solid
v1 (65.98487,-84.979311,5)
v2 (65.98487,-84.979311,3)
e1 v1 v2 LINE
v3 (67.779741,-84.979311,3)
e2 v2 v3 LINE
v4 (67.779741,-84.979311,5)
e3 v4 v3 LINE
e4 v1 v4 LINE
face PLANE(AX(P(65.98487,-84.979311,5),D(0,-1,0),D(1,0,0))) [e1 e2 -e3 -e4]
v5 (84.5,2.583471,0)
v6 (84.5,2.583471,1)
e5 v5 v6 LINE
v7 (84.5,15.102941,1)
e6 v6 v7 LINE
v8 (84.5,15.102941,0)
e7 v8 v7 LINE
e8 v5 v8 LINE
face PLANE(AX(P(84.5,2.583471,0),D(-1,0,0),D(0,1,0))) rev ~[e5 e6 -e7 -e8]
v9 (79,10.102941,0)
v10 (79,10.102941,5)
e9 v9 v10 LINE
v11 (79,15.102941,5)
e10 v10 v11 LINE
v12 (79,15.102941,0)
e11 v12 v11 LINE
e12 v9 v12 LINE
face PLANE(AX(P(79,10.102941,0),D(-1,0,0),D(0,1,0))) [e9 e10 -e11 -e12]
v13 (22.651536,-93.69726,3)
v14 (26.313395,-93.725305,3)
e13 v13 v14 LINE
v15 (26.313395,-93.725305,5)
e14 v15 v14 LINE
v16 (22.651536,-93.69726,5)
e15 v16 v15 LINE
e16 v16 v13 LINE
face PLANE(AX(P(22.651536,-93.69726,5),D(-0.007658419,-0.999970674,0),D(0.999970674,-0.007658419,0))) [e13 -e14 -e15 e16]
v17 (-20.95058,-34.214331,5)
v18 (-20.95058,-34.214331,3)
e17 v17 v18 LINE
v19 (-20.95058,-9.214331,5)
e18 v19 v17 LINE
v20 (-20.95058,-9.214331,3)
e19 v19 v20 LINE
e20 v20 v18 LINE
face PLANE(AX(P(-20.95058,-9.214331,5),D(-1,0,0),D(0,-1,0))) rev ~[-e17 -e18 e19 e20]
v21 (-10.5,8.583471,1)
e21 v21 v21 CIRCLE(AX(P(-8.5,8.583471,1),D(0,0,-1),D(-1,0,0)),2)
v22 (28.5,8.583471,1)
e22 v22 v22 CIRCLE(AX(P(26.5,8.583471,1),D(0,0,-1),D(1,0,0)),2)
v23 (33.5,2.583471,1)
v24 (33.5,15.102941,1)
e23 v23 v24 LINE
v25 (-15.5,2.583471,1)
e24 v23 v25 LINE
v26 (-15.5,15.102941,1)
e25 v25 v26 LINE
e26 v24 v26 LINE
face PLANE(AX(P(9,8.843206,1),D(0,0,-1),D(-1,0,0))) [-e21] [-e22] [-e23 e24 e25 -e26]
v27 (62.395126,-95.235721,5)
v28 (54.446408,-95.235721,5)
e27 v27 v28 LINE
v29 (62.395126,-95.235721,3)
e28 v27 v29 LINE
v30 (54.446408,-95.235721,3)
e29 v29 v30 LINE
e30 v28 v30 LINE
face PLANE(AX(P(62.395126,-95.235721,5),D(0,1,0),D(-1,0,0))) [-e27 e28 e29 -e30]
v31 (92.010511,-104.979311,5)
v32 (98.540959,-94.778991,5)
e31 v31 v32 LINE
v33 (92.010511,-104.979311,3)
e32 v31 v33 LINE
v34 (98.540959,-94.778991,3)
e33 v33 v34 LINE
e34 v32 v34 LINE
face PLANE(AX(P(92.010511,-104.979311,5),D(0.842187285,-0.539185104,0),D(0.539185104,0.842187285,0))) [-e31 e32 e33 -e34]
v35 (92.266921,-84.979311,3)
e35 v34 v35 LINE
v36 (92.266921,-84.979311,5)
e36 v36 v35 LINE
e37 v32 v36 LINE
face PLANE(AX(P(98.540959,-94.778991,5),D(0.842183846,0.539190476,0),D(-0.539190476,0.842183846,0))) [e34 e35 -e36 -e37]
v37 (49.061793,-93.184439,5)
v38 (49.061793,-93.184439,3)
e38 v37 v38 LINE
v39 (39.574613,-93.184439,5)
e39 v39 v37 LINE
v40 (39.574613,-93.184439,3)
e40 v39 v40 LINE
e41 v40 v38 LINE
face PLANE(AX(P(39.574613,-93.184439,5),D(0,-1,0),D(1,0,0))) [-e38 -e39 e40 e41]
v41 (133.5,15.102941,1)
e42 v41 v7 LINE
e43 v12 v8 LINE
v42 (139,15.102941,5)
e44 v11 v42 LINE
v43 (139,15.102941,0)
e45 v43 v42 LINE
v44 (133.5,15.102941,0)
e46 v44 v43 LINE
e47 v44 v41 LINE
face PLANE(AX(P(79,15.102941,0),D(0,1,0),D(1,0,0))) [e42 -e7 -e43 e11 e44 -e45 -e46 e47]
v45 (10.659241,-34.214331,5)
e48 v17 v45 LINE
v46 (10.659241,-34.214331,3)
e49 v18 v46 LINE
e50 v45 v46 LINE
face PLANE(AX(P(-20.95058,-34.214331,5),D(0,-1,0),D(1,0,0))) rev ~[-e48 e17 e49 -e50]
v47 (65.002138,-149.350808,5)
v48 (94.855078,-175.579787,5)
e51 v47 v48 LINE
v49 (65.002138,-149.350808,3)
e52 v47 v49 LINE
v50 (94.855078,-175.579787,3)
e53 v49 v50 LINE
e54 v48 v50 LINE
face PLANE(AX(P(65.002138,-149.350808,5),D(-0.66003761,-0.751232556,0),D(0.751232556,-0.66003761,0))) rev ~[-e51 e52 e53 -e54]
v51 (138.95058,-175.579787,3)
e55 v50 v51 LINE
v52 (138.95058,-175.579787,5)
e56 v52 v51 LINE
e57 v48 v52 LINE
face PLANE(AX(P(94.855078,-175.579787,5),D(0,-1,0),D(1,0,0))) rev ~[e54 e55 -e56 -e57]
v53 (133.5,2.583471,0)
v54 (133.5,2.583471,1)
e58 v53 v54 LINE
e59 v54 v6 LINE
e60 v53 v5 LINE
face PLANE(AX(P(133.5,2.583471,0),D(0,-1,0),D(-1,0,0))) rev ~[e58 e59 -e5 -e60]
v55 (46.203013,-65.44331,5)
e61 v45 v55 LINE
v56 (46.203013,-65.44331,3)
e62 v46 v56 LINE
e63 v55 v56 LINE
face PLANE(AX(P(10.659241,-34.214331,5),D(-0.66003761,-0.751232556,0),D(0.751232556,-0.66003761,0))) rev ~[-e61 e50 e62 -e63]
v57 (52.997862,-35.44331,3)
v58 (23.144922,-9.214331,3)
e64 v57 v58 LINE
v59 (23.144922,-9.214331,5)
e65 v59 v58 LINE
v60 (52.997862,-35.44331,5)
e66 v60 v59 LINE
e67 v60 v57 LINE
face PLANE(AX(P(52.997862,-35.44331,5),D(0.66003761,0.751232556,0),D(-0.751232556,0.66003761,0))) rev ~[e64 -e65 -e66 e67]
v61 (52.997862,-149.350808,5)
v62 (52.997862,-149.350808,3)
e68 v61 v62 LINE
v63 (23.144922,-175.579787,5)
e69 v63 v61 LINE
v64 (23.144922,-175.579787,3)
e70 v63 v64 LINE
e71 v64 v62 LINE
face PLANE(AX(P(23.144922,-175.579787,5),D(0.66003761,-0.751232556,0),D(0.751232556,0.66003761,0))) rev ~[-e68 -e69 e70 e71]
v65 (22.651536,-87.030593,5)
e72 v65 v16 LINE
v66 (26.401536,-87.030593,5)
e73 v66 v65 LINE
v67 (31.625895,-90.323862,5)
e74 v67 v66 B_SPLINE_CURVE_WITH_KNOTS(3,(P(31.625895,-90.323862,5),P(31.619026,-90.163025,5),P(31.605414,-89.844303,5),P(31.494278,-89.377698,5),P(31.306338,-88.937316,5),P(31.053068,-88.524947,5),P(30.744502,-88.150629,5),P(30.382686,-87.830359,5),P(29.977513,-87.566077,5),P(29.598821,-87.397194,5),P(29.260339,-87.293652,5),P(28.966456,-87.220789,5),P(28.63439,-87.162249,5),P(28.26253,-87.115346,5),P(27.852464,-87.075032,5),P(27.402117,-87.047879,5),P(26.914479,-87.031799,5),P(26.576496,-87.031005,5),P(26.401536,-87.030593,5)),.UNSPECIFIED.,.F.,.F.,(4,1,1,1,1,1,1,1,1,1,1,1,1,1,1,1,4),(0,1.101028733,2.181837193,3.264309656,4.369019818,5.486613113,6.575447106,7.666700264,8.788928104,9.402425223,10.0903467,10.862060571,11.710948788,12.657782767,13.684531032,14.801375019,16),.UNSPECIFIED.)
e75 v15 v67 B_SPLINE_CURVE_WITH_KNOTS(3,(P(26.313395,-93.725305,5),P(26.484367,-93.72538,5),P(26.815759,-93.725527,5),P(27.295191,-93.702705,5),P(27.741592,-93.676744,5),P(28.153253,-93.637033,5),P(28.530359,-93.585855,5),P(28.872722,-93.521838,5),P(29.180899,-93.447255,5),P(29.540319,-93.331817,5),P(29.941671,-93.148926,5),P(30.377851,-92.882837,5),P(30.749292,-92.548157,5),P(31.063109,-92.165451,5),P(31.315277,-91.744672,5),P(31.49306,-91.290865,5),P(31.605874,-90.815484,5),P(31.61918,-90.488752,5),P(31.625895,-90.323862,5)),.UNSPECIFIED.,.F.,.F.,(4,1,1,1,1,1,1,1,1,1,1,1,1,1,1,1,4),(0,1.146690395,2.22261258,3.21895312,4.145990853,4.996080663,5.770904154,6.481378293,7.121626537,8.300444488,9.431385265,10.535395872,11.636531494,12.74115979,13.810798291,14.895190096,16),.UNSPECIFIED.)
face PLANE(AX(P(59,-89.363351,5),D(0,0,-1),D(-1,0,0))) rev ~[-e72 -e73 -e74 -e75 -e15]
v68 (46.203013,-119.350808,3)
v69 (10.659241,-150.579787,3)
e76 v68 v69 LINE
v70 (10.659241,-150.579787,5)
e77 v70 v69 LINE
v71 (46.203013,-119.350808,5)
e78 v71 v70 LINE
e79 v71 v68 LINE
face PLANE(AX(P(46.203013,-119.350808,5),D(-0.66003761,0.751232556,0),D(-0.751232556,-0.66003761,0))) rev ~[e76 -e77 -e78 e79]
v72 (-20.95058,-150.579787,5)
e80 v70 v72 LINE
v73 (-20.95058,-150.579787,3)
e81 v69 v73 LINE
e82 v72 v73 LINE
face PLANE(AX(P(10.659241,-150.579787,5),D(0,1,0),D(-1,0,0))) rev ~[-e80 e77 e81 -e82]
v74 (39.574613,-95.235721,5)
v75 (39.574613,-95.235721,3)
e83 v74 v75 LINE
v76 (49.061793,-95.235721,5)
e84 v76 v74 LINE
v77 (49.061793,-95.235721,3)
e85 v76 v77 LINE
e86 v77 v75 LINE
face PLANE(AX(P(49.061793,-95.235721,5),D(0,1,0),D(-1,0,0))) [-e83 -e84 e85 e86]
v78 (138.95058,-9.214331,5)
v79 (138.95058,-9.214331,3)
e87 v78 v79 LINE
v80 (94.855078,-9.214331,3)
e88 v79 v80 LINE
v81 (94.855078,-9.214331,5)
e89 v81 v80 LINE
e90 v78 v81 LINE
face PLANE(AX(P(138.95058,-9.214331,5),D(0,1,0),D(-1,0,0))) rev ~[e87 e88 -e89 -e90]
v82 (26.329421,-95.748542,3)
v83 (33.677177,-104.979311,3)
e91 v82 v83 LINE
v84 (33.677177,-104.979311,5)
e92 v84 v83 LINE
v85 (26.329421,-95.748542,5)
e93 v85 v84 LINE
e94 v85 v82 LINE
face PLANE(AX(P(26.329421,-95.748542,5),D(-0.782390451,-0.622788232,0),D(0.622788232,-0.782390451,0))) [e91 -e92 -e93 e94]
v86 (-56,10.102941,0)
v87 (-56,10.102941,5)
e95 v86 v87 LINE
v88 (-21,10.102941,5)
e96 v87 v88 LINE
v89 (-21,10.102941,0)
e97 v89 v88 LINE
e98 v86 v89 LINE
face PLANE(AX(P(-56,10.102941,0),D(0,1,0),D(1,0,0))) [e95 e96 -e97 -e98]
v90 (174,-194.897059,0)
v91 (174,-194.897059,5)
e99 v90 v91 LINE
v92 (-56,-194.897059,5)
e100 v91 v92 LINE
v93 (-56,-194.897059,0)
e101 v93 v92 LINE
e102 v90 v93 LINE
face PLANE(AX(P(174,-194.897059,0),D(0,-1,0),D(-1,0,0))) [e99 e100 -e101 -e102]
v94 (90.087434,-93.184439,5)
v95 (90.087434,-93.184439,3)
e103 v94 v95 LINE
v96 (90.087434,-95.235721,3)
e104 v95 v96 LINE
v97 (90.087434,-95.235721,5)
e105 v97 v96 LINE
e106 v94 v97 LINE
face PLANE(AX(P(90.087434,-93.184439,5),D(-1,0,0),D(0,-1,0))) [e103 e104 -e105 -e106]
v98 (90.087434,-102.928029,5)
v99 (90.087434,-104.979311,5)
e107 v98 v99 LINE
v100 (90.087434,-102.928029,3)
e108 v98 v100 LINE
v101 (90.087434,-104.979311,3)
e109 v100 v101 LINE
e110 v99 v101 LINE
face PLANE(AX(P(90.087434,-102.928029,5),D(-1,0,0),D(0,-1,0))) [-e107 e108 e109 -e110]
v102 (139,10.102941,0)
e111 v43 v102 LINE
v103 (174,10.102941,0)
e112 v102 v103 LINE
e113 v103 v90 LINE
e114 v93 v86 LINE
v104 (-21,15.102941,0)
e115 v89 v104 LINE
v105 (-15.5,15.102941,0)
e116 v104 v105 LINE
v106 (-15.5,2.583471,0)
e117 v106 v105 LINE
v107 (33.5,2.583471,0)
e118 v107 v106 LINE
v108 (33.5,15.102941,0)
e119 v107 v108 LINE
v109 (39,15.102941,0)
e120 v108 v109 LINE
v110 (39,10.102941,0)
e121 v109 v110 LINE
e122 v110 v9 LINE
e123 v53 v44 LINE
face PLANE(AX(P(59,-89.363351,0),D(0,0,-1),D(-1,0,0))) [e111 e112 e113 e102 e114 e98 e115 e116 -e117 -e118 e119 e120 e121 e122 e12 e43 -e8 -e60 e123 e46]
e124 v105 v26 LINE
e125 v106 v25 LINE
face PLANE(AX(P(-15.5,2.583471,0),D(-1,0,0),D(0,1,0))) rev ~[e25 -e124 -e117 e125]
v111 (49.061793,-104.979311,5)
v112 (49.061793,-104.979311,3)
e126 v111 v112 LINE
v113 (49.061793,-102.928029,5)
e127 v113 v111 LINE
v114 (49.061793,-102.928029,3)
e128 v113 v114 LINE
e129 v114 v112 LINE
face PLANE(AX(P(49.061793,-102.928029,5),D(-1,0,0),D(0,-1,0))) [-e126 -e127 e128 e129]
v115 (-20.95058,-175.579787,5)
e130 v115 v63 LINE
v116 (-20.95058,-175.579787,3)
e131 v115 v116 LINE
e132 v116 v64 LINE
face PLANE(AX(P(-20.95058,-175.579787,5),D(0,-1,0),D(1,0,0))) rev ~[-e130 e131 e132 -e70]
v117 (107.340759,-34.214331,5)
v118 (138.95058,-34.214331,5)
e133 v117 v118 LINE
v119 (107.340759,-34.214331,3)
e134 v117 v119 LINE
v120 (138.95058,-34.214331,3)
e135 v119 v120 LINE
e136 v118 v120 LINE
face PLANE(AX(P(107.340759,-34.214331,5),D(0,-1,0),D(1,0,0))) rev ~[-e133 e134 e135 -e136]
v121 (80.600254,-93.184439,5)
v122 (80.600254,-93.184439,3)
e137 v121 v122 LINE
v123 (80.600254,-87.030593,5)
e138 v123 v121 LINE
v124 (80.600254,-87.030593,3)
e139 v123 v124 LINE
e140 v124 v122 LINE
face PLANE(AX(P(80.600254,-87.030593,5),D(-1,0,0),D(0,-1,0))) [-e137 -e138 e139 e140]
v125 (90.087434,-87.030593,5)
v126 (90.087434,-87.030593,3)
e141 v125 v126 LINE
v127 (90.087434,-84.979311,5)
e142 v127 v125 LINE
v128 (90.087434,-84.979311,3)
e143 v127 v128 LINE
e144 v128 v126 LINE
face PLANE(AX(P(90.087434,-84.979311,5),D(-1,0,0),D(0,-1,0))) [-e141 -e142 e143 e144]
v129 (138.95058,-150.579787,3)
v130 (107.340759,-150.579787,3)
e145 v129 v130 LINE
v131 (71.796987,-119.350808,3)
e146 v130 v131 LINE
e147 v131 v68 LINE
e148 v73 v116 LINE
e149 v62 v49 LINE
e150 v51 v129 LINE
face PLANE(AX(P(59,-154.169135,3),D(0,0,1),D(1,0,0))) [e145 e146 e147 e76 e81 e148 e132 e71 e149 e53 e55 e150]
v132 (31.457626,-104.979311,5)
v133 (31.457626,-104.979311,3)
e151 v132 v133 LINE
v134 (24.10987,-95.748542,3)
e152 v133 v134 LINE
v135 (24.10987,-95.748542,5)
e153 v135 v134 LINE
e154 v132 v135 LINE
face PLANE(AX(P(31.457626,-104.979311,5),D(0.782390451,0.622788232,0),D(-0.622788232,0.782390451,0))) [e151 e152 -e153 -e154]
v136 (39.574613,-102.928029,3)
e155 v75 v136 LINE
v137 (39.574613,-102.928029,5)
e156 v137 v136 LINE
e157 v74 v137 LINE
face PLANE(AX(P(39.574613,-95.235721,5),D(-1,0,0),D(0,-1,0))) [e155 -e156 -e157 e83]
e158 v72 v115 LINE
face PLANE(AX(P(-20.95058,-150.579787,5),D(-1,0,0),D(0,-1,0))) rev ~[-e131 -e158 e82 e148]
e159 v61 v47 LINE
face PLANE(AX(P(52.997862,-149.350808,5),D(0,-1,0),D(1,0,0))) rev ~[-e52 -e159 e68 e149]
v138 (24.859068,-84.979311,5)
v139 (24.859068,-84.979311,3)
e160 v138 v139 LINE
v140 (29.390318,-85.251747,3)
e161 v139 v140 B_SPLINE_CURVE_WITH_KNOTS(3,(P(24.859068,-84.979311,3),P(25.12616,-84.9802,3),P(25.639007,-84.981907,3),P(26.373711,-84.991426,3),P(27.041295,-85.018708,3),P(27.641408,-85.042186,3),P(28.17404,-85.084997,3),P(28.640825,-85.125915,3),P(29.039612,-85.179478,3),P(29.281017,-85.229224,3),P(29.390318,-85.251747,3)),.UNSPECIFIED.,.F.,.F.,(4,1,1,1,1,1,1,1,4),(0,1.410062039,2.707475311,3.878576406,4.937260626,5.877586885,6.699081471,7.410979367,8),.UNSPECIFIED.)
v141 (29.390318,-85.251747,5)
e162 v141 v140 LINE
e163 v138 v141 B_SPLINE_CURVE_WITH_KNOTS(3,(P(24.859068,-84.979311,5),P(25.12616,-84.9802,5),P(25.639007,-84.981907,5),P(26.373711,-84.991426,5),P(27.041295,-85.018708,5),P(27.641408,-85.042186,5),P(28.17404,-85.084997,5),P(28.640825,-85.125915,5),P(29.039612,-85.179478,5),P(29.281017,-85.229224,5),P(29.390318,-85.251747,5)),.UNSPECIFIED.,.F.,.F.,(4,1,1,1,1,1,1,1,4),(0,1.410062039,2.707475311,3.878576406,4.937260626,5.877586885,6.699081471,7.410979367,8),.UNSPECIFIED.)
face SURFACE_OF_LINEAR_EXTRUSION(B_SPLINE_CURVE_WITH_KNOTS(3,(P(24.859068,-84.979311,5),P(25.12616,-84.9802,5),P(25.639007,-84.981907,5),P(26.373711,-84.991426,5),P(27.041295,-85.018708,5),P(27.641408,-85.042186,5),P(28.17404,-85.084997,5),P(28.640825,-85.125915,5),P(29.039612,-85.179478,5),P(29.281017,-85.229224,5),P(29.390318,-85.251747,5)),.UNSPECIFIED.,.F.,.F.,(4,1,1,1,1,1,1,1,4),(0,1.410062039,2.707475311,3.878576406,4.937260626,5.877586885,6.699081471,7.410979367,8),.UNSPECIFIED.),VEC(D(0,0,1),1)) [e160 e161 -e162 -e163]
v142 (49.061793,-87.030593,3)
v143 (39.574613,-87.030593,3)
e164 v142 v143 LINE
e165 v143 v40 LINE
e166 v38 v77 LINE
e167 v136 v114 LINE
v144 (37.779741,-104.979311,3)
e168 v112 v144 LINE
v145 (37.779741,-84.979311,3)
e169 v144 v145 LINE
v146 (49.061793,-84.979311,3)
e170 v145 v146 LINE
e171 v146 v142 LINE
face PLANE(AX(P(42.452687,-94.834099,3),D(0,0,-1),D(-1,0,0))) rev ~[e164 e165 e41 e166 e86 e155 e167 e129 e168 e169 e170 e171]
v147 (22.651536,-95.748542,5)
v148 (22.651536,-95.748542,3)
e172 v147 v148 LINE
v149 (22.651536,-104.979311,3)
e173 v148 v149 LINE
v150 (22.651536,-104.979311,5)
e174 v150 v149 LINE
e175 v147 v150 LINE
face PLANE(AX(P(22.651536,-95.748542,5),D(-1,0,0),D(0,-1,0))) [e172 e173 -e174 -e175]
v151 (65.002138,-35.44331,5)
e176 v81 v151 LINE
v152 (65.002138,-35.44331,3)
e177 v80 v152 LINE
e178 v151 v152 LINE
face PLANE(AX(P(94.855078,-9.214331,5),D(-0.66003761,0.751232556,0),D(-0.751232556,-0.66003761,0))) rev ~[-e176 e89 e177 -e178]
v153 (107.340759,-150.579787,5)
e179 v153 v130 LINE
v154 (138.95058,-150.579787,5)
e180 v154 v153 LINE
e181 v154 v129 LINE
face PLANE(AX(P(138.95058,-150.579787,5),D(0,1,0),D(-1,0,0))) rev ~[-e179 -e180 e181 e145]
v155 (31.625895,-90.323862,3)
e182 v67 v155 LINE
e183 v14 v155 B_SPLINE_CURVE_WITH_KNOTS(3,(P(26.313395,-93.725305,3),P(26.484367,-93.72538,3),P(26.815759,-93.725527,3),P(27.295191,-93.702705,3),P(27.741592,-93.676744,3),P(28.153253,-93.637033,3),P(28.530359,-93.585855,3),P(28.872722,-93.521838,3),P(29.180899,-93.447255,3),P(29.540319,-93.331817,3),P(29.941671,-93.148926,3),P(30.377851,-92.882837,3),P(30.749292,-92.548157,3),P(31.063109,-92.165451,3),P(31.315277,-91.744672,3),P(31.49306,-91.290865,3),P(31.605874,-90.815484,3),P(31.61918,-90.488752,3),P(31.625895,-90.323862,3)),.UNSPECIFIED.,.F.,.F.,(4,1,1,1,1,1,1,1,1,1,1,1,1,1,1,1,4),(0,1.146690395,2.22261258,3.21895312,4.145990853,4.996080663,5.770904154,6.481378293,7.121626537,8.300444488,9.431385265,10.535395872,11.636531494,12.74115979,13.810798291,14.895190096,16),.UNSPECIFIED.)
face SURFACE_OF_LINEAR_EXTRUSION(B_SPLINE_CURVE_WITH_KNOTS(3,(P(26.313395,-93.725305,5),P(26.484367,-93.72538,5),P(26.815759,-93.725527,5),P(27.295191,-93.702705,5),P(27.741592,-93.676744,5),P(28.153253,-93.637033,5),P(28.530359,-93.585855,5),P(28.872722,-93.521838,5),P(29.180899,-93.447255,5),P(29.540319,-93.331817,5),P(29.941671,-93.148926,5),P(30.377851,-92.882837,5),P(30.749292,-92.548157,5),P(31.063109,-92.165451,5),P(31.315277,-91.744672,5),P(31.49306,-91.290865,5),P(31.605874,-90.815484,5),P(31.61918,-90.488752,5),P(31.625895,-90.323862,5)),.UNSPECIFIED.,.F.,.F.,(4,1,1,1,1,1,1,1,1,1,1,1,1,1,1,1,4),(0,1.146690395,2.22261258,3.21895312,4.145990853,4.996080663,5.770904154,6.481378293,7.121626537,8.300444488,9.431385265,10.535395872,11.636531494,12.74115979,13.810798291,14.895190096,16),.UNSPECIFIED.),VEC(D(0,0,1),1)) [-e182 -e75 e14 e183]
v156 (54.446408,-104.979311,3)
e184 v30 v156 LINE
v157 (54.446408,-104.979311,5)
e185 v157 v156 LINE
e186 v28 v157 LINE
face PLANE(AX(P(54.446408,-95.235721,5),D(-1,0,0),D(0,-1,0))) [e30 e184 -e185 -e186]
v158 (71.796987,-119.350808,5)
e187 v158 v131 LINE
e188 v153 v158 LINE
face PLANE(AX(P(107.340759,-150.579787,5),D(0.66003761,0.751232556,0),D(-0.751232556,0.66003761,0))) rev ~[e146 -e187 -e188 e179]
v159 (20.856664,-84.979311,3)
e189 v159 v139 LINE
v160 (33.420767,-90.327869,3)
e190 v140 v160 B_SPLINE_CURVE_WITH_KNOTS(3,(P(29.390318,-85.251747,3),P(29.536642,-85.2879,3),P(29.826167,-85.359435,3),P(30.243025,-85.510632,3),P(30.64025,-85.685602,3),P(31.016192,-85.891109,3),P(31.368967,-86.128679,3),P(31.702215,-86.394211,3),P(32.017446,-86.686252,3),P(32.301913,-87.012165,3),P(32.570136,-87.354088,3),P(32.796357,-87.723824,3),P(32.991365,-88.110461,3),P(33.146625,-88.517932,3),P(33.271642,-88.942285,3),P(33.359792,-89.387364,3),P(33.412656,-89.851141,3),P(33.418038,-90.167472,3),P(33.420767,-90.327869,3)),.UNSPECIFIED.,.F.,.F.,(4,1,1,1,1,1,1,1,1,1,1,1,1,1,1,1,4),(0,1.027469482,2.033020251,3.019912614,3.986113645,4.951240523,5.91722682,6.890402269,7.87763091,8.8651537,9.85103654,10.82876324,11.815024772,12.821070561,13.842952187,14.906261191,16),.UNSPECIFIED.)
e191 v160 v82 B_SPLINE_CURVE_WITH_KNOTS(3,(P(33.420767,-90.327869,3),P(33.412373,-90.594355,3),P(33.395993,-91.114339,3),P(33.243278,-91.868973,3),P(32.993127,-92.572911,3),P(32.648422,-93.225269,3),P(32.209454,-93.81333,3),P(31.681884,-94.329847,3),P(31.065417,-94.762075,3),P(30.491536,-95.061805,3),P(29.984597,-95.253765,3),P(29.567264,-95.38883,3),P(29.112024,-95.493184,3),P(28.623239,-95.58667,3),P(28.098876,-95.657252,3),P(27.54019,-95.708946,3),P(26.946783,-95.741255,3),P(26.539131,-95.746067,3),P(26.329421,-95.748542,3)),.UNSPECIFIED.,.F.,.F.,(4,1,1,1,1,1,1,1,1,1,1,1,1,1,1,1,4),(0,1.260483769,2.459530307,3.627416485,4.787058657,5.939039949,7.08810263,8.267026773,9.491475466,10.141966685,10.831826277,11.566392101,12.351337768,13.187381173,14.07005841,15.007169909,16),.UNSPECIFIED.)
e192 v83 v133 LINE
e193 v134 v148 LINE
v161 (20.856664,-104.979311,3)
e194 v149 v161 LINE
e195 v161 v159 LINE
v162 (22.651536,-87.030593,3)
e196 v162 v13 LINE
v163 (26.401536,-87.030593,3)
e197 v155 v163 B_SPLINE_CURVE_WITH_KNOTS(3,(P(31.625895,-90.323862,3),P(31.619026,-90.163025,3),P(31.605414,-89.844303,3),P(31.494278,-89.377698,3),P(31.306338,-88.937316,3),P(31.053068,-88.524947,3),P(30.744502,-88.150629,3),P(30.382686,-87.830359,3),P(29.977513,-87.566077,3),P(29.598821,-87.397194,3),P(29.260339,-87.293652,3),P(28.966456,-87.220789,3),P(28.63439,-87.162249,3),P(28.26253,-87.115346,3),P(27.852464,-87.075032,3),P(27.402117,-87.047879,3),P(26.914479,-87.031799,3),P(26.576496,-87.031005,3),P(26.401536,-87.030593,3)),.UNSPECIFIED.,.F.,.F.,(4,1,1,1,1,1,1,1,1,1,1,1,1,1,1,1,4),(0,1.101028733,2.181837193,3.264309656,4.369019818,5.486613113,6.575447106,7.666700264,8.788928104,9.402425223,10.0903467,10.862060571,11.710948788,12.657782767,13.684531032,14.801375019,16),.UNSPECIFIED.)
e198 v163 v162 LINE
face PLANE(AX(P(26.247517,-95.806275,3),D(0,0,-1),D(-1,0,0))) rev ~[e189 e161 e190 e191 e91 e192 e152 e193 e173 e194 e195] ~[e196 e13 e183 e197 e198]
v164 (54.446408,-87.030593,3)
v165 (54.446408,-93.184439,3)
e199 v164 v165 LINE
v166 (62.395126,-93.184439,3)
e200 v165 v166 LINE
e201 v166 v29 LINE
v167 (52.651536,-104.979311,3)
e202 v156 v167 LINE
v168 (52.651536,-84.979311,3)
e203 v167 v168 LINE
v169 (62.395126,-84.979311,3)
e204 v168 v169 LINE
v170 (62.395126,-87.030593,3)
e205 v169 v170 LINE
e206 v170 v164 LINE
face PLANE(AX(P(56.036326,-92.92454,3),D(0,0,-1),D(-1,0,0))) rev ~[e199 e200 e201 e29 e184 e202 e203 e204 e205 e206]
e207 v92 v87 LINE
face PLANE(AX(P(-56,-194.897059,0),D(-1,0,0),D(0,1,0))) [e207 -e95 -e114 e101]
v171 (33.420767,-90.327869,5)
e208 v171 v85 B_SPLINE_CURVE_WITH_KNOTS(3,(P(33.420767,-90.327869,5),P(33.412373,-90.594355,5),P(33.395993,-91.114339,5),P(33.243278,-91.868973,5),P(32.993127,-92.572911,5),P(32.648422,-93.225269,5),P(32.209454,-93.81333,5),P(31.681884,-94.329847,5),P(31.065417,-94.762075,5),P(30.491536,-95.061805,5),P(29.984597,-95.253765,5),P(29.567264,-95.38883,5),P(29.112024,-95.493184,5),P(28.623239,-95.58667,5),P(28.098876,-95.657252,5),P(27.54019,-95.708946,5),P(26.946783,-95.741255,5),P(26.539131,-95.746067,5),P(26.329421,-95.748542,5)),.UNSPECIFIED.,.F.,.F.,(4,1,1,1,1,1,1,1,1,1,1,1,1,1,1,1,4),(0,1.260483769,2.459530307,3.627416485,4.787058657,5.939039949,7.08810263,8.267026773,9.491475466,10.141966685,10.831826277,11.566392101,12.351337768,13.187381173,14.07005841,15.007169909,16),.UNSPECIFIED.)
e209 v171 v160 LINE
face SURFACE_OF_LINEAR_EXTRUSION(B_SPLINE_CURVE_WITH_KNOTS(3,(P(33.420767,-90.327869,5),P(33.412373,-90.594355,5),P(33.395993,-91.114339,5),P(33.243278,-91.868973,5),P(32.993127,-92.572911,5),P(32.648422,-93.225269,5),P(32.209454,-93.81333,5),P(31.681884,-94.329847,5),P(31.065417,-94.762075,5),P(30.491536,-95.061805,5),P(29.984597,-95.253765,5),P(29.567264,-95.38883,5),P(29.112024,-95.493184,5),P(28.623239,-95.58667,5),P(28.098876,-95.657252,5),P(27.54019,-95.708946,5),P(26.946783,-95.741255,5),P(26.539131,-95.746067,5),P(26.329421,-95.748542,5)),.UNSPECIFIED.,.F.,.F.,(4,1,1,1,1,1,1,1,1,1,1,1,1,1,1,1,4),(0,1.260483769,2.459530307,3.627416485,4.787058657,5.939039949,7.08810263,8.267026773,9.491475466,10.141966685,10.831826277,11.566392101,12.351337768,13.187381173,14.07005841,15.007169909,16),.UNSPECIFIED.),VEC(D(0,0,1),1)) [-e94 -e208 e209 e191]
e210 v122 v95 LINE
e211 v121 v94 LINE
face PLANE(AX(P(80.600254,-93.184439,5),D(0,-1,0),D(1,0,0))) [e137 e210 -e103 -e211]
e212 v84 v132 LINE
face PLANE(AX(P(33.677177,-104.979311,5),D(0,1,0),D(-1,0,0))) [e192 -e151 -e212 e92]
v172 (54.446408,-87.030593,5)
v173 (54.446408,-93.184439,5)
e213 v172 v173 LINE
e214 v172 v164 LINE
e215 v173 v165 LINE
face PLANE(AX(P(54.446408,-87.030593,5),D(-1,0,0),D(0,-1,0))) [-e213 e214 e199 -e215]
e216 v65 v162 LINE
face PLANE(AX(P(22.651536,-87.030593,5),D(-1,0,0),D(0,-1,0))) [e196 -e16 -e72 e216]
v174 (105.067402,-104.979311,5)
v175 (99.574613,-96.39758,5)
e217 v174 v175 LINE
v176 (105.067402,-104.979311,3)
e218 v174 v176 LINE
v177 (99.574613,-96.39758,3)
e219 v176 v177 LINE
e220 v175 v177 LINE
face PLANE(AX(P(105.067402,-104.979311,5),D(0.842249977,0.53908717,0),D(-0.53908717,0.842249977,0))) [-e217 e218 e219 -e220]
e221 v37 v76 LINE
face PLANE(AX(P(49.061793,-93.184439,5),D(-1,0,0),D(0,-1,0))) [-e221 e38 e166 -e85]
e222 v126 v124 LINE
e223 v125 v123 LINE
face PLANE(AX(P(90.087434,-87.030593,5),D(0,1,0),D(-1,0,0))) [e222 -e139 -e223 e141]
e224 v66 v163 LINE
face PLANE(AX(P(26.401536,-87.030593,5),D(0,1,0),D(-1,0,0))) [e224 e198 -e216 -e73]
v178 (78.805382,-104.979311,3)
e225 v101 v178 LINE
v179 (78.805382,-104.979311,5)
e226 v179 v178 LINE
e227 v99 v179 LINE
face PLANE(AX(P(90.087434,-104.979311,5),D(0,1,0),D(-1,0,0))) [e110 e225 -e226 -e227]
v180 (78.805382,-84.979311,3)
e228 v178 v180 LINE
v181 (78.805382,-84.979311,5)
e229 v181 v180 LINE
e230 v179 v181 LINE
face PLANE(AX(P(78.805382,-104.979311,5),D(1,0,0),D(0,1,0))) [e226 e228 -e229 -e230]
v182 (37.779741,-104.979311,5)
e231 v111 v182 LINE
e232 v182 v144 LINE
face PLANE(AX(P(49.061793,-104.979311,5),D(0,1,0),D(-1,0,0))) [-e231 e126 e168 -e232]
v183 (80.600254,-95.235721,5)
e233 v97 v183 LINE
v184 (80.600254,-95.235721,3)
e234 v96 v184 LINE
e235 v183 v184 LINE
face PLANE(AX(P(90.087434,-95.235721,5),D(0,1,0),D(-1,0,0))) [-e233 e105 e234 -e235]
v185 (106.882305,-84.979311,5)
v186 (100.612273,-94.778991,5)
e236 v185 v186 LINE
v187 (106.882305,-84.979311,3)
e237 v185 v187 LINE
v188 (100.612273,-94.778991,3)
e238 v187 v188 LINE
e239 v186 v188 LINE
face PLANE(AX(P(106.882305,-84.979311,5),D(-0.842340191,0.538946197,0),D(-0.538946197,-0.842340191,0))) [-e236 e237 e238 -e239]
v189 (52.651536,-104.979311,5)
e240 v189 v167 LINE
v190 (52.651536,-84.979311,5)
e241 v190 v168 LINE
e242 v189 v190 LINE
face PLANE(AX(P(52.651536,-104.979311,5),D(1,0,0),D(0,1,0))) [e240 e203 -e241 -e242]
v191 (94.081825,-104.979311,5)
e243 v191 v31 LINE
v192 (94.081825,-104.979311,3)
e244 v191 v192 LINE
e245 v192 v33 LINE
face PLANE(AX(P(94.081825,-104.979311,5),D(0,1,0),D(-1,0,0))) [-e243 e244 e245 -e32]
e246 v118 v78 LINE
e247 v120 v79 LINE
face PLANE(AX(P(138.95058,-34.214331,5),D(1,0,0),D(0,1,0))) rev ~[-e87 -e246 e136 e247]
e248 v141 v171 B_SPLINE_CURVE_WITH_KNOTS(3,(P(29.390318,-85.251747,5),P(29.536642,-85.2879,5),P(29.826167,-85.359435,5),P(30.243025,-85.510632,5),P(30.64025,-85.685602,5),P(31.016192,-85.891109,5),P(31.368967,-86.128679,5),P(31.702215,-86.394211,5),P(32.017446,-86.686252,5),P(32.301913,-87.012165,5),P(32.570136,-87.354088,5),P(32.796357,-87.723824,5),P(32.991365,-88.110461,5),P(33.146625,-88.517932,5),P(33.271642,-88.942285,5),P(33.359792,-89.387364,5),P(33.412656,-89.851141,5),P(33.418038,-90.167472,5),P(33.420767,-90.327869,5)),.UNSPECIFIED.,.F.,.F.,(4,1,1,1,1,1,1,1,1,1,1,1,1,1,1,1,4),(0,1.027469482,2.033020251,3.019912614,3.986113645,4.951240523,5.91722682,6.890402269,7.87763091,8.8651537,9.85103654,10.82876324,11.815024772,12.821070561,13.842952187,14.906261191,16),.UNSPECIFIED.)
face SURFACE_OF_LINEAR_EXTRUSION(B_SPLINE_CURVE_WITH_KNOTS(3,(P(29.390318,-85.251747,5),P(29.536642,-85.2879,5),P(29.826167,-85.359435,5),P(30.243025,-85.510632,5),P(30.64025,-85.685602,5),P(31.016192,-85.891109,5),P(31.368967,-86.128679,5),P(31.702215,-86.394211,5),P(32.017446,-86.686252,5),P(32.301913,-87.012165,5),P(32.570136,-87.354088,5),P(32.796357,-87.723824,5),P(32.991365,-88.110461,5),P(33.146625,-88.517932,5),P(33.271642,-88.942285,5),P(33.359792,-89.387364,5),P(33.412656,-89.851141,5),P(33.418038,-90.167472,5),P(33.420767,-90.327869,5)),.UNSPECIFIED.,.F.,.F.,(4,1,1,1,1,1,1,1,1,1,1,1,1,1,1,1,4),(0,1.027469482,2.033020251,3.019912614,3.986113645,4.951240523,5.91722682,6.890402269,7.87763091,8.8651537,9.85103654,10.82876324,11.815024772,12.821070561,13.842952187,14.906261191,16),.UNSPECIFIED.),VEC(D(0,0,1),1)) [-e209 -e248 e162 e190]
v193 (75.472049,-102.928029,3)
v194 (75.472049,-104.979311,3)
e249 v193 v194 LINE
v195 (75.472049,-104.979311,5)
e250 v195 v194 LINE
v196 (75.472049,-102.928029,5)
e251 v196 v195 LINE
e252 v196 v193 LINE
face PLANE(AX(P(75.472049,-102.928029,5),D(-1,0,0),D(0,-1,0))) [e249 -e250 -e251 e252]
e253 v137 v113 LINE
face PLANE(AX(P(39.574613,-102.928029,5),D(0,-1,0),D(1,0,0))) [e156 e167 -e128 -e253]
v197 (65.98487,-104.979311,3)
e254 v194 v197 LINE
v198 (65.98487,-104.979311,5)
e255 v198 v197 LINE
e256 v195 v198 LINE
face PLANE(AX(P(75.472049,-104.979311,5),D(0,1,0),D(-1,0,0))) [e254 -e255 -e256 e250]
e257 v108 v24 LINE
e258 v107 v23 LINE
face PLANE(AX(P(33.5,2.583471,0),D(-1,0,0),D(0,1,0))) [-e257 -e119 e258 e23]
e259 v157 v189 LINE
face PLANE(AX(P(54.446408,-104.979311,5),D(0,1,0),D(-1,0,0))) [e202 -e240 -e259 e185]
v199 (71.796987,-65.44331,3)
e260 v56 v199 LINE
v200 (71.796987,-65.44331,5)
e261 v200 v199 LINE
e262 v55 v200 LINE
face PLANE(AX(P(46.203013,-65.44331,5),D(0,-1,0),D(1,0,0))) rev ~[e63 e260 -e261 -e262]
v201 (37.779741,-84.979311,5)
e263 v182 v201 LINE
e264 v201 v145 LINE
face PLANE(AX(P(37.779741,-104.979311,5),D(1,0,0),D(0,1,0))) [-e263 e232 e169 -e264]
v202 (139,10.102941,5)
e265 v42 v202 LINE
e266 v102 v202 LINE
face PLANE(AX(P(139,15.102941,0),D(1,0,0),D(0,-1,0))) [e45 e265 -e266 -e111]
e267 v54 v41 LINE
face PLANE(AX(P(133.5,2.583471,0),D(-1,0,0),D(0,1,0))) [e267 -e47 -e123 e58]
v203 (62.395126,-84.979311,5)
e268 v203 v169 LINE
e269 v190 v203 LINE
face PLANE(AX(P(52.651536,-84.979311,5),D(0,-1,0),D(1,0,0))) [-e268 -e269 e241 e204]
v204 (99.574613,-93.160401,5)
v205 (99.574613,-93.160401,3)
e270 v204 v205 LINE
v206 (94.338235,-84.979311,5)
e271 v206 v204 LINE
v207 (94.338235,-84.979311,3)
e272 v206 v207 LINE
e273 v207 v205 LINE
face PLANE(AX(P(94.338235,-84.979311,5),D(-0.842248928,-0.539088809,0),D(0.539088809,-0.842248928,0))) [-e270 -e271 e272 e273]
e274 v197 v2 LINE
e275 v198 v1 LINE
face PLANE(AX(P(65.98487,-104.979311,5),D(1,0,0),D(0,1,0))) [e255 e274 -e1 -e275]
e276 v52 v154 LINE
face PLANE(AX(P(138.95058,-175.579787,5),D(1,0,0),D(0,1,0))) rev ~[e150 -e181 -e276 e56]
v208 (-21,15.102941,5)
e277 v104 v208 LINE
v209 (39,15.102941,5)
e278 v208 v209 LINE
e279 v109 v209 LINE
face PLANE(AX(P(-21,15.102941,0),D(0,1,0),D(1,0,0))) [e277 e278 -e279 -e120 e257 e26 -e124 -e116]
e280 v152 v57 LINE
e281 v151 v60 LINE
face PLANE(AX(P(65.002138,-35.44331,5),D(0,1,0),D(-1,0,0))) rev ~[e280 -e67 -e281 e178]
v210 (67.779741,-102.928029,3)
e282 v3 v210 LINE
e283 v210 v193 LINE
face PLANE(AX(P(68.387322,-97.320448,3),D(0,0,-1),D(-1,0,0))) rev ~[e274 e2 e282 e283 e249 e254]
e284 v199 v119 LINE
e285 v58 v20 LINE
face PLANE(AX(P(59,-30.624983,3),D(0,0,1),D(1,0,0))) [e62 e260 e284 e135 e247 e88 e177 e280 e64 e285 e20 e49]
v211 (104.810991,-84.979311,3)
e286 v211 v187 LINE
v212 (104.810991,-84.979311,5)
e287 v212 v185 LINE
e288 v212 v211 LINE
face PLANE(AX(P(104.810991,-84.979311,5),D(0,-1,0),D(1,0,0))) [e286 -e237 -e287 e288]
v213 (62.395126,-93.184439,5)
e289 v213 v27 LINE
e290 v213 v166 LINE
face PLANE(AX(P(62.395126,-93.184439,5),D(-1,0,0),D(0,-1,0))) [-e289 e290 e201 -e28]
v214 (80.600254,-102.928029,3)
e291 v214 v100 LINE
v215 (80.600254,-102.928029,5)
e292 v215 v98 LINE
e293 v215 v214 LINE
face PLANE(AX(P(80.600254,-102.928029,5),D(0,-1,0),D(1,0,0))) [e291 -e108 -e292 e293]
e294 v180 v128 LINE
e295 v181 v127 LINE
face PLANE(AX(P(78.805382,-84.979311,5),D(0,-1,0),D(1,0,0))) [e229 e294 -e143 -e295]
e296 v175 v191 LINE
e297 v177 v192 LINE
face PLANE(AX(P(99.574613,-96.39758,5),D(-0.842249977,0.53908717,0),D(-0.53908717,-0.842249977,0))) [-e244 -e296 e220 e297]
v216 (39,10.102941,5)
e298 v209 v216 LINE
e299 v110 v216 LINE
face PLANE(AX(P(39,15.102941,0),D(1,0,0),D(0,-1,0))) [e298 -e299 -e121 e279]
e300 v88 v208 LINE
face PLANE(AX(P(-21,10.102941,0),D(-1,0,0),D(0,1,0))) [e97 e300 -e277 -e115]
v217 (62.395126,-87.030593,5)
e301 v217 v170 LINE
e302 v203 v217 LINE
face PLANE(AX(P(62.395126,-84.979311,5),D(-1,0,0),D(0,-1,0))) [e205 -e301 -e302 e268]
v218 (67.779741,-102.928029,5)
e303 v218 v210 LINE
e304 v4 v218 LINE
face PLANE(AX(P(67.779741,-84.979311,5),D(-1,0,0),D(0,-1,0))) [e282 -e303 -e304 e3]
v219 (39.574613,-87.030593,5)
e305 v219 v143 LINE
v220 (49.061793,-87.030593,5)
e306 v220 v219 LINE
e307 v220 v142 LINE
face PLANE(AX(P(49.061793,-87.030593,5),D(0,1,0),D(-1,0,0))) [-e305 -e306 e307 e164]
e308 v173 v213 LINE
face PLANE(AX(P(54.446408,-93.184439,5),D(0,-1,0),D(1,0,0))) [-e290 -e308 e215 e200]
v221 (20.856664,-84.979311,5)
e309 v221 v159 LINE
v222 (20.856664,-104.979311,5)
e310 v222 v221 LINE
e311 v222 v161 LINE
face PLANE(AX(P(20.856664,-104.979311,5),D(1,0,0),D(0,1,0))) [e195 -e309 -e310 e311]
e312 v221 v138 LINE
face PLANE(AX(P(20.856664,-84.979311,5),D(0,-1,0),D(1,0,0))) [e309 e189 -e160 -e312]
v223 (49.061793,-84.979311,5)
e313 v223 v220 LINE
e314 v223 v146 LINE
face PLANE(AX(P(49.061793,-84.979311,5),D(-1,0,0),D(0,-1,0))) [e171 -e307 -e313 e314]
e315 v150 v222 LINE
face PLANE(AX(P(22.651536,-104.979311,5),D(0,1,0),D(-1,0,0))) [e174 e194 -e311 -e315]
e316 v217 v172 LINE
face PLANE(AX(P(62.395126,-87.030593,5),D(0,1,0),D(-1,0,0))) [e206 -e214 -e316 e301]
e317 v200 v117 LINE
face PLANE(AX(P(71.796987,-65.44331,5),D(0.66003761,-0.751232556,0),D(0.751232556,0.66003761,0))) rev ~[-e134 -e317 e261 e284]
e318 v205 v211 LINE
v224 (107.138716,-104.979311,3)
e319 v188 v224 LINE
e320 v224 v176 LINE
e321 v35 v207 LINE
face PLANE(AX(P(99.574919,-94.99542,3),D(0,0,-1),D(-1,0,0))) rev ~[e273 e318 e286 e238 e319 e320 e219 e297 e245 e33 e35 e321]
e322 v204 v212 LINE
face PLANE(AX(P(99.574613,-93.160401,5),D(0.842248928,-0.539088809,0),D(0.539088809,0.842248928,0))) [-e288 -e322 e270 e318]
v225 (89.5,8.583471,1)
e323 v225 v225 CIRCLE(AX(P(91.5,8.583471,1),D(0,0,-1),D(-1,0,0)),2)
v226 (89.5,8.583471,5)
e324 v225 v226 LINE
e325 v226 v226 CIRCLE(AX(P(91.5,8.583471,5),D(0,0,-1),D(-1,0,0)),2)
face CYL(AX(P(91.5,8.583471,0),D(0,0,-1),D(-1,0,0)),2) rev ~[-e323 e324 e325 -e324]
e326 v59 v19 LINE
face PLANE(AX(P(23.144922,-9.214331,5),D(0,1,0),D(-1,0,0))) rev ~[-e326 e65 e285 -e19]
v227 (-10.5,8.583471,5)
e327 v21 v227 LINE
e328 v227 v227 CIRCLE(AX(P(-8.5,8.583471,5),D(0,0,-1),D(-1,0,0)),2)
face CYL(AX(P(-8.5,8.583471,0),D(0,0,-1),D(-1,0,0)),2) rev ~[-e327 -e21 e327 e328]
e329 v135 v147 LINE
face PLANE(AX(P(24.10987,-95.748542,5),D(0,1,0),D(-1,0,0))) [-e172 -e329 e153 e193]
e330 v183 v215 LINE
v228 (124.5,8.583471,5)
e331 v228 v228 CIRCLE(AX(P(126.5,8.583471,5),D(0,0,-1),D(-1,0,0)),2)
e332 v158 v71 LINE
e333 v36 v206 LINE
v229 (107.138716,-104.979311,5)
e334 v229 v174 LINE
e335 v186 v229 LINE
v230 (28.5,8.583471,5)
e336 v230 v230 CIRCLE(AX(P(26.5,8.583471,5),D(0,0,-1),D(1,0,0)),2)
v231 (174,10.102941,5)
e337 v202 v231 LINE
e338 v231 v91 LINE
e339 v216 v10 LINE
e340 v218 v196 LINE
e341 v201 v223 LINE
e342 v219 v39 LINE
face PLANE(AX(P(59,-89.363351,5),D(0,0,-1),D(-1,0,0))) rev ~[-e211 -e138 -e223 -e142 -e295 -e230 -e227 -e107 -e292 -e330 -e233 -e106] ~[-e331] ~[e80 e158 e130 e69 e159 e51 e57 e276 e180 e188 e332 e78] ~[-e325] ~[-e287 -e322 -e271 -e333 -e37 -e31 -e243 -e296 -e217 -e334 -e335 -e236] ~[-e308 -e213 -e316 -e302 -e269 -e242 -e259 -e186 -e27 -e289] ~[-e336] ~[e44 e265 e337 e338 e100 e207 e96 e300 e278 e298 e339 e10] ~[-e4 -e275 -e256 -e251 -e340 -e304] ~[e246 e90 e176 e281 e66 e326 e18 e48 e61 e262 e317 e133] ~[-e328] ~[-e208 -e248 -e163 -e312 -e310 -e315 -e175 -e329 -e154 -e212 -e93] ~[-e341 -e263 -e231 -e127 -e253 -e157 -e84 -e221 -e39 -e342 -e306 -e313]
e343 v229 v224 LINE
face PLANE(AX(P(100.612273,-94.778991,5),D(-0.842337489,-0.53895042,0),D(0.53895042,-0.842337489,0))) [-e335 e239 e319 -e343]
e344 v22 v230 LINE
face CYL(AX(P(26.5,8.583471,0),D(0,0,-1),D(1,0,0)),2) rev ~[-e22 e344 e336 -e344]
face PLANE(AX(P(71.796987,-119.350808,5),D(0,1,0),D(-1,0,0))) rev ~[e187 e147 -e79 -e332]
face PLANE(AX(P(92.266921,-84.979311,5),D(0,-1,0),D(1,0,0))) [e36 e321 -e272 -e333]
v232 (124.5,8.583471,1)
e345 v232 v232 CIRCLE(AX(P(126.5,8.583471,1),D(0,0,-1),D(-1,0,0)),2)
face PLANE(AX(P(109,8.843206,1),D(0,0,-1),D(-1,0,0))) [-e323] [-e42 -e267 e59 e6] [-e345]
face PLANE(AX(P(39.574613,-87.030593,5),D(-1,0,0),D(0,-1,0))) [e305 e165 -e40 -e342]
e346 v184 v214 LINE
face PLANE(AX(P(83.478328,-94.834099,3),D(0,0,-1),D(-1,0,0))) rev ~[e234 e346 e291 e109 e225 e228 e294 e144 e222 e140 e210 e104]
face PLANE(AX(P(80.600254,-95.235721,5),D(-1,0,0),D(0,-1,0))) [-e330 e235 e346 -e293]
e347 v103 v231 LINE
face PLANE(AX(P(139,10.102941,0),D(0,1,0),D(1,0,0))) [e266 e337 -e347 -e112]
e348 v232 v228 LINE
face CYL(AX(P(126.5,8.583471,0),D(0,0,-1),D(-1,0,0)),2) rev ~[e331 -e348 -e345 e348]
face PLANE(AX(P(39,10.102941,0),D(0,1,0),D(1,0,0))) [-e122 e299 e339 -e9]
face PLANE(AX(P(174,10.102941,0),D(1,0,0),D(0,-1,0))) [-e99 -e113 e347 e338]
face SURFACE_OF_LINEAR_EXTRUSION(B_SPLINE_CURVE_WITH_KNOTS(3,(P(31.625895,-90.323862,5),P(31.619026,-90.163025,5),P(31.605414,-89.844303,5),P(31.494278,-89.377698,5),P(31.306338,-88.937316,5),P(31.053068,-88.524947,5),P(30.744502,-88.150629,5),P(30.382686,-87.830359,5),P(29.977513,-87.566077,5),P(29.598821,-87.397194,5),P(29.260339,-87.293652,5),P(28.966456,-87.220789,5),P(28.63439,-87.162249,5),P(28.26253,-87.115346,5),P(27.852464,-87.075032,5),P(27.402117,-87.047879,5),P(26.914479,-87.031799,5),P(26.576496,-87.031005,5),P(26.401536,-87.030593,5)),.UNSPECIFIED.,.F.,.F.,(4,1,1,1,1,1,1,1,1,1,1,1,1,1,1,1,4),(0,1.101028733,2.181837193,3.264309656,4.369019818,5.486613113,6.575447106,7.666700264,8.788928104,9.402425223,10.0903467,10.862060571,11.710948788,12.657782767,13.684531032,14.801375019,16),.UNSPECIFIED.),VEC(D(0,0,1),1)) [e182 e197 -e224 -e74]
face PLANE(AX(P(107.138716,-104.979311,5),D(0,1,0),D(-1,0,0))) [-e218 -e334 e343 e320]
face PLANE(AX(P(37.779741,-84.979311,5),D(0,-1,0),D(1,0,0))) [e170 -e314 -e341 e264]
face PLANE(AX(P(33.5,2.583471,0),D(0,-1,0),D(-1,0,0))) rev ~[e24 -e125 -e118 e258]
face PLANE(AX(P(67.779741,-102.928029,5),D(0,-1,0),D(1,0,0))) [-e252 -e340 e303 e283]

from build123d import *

# Parameters (mm, degrees)
BOSS_EXTRU_1_DEPTH      = 5
ENL_V_MAT_EXTRU_2_DEPTH = 2
ENL_V_MAT_EXTRU_3_DEPTH = 2
ESQUISSE4_W             = 49
ESQUISSE4_H             = 12.519470299
ENL_V_MAT_EXTRU_5_DEPTH = 1
ESQUISSE5_R             = 2
ENL_V_MAT_EXTRU_6_DEPTH = 262.315639817


with BuildPart() as part:
    # Esquisse1 → Boss.-Extru.1 (new body)
    with BuildSketch(Plane.XY):
        Polygon((-56, 10.102941176), (-21, 10.102941176), (-21, 15.102941176), (39, 15.102941176), (39, 10.102941176), (79, 10.102941176), (79, 15.102941176), (139, 15.102941176), (139, 10.102941176), (174, 10.102941176), (174, -194.897058824), (-56, -194.897058824), align=None)
    extrude(amount=BOSS_EXTRU_1_DEPTH)

    # Esquisse2 → Enlèv. mat.-Extru.2 (cut)
    with BuildSketch(Plane.XY.offset(5)):
        Polygon((23.144921781, -9.214330656), (-20.950579999, -9.214330656), (-20.950579999, -34.214330656), (10.659241187, -34.214330656), (46.203012632, -65.443309996), (71.796987368, -65.443309996), (107.340758813, -34.214330656), (138.950579999, -34.214330656), (138.950579999, -9.214330656), (94.855078219, -9.214330656), (65.002138205, -35.443309996), (52.997861795, -35.443309996), align=None)
        Polygon((10.659241187, -150.579786991), (-20.950579999, -150.579786991), (-20.950579999, -175.579786991), (23.144921781, -175.579786991), (52.997861795, -149.350807651), (65.002138205, -149.350807651), (94.855078219, -175.579786991), (138.950579999, -175.579786991), (138.950579999, -150.579786991), (107.340758813, -150.579786991), (71.796987368, -119.350807651), (46.203012632, -119.350807651), align=None)
    extrude(amount=-ENL_V_MAT_EXTRU_2_DEPTH, mode=Mode.SUBTRACT)

    # Esquisse3 → Enlèv. mat.-Extru.3 (cut)
    # profile 1 of 6: a face of its own
    with BuildSketch(Plane.XY.offset(5)):
        with BuildLine():
            Line((20.856664396, -84.979311094), (24.859068242, -84.979311094))
            add(Edge.make_bspline(
                [(24.859068242, -84.979311094), (25.126160405, -84.980200157), (25.639006945, -84.981907256), (26.373711347, -84.991425901), (27.041294758, -85.018707934), (27.641408126, -85.042185554), (28.17404044, -85.084996647), (28.640824959, -85.125914631), (29.039611801, -85.179478407), (29.281016666, -85.229223681), (29.390318242, -85.251746992)],
                knots=[0, 0, 0, 0, 1.410062039, 2.707475311, 3.878576406, 4.937260626, 5.877586885, 6.699081471, 7.410979367, 8, 8, 8, 8], degree=3))
            add(Edge.make_bspline(
                [(29.390318242, -85.251746992), (29.536641809, -85.287899937), (29.826167463, -85.359434586), (30.243024983, -85.510632305), (30.640249692, -85.685601589), (31.016191545, -85.891108562), (31.368967495, -86.128678732), (31.702214985, -86.39421086), (32.017446204, -86.686252036), (32.301912662, -87.012165416), (32.570135815, -87.354088328), (32.796356538, -87.723824081), (32.991364993, -88.110461382), (33.14662509, -88.51793234), (33.271642082, -88.942285322), (33.359792021, -89.387364161), (33.41265595, -89.851141161), (33.418037982, -90.167472069), (33.42076696, -90.327868787)],
                knots=[0, 0, 0, 0, 1.027469482, 2.033020251, 3.019912614, 3.986113645, 4.951240523, 5.91722682, 6.890402269, 7.87763091, 8.8651537, 9.85103654, 10.82876324, 11.815024772, 12.821070561, 13.842952187, 14.906261191, 16, 16, 16, 16], degree=3))
            add(Edge.make_bspline(
                [(33.42076696, -90.327868787), (33.412372686, -90.594355099), (33.395993281, -91.114338915), (33.243278403, -91.868972523), (32.993126862, -92.572911464), (32.648422353, -93.225269395), (32.20945392, -93.813330226), (31.681883685, -94.329847113), (31.065417334, -94.762075185), (30.491535529, -95.061805498), (29.984597245, -95.253764975), (29.567264029, -95.388829883), (29.112024157, -95.493183971), (28.623239388, -95.586670438), (28.098875642, -95.657251549), (27.540189703, -95.708946374), (26.946783122, -95.741255224), (26.539131297, -95.74606668), (26.329420807, -95.748541864)],
                knots=[0, 0, 0, 0, 1.260483769, 2.459530307, 3.627416485, 4.787058657, 5.939039949, 7.08810263, 8.267026773, 9.491475466, 10.141966685, 10.831826277, 11.566392101, 12.351337768, 13.187381173, 14.07005841, 15.007169909, 16, 16, 16, 16], degree=3))
            Line((26.329420807, -95.748541864), (33.677177217, -104.979311094))
            Line((33.677177217, -104.979311094), (31.457625935, -104.979311094))
            Line((31.457625935, -104.979311094), (24.109869525, -95.748541864))
            Line((24.109869525, -95.748541864), (22.651536191, -95.748541864))
            Line((22.651536191, -95.748541864), (22.651536191, -104.979311094))
            Line((22.651536191, -104.979311094), (20.856664396, -104.979311094))
            Line((20.856664396, -104.979311094), (20.856664396, -84.979311094))
        make_face()
        with BuildLine():
            Line((22.651536191, -87.030593146), (22.651536191, -93.697259812))
            Line((22.651536191, -93.697259812), (26.313395166, -93.725304684))
            add(Edge.make_bspline(
                [(26.313395166, -93.725304684), (26.484366817, -93.725380322), (26.815758571, -93.72552693), (27.295190942, -93.702705352), (27.74159158, -93.676743533), (28.153253021, -93.637032987), (28.530359166, -93.585855434), (28.872721527, -93.521838382), (29.180898966, -93.447255167), (29.540319186, -93.331817305), (29.941670794, -93.148925772), (30.377850564, -92.882837208), (30.749292494, -92.548156527), (31.06310885, -92.165451064), (31.31527703, -91.744672499), (31.493060198, -91.290864675), (31.605874154, -90.815484115), (31.619180128, -90.48875207), (31.625895166, -90.323862376)],
                knots=[0, 0, 0, 0, 1.146690395, 2.22261258, 3.21895312, 4.145990853, 4.996080663, 5.770904154, 6.481378293, 7.121626537, 8.300444488, 9.431385265, 10.535395872, 11.636531494, 12.74115979, 13.810798291, 14.895190096, 16, 16, 16, 16], degree=3))
            add(Edge.make_bspline(
                [(31.625895166, -90.323862376), (31.619025902, -90.163024812), (31.605413529, -89.844303448), (31.494277709, -89.377698247), (31.306338387, -88.937315675), (31.053068456, -88.524947189), (30.744501856, -88.150628698), (30.382685783, -87.830359252), (29.977513239, -87.566076597), (29.598820677, -87.397194423), (29.260339463, -87.293652404), (28.966455692, -87.220788611), (28.634390105, -87.162248788), (28.262530341, -87.115345583), (27.852463879, -87.075031616), (27.402117302, -87.047878595), (26.914478557, -87.031799372), (26.576496094, -87.031004578), (26.401536191, -87.030593146)],
                knots=[0, 0, 0, 0, 1.101028733, 2.181837193, 3.264309656, 4.369019818, 5.486613113, 6.575447106, 7.666700264, 8.788928104, 9.402425223, 10.0903467, 10.862060571, 11.710948788, 12.657782767, 13.684531032, 14.801375019, 16, 16, 16, 16], degree=3))
            Line((26.401536191, -87.030593146), (22.651536191, -87.030593146))
        make_face(mode=Mode.SUBTRACT)
    # profile 2 of 6: a face of its own
    with BuildSketch(Plane.XY.offset(5)):
        Polygon((37.779741319, -84.979311094), (49.061792601, -84.979311094), (49.061792601, -87.030593146), (39.574613114, -87.030593146), (39.574613114, -93.184439299), (49.061792601, -93.184439299), (49.061792601, -95.235721351), (39.574613114, -95.235721351), (39.574613114, -102.928029043), (49.061792601, -102.928029043), (49.061792601, -104.979311094), (37.779741319, -104.979311094), align=None)
    # profile 3 of 6: a face of its own
    with BuildSketch(Plane.XY.offset(5)):
        Polygon((52.651536191, -84.979311094), (62.395125935, -84.979311094), (62.395125935, -87.030593146), (54.446407986, -87.030593146), (54.446407986, -93.184439299), (62.395125935, -93.184439299), (62.395125935, -95.235721351), (54.446407986, -95.235721351), (54.446407986, -104.979311094), (52.651536191, -104.979311094), align=None)
    # profile 4 of 6: a face of its own
    with BuildSketch(Plane.XY.offset(5)):
        Polygon((65.984869525, -84.979311094), (67.779741319, -84.979311094), (67.779741319, -102.928029043), (75.472049012, -102.928029043), (75.472049012, -104.979311094), (65.984869525, -104.979311094), align=None)
    # profile 5 of 6: a face of its own
    with BuildSketch(Plane.XY.offset(5)):
        Polygon((78.805382345, -84.979311094), (90.087433627, -84.979311094), (90.087433627, -87.030593146), (80.60025414, -87.030593146), (80.60025414, -93.184439299), (90.087433627, -93.184439299), (90.087433627, -95.235721351), (80.60025414, -95.235721351), (80.60025414, -102.928029043), (90.087433627, -102.928029043), (90.087433627, -104.979311094), (78.805382345, -104.979311094), align=None)
    # profile 6 of 6: a face of its own
    with BuildSketch(Plane.XY.offset(5)):
        Polygon((92.266920807, -84.979311094), (94.338234909, -84.979311094), (99.574613114, -93.160400838), (104.810991319, -84.979311094), (106.882305422, -84.979311094), (100.612273371, -94.778990582), (107.138715678, -104.979311094), (105.067401576, -104.979311094), (99.574613114, -96.397580325), (94.081824653, -104.979311094), (92.01051055, -104.979311094), (98.540959268, -94.778990582), align=None)
    extrude(amount=-ENL_V_MAT_EXTRU_3_DEPTH, mode=Mode.SUBTRACT)

    # Esquisse4 → Enlèv. mat.-Extru.5 (cut)
    with BuildSketch(Plane(origin=(0, 0, 0), x_dir=(-1, 0, 0), z_dir=(0, 0, -1))):
        with Locations((-9, 8.843206027)):
            Rectangle(ESQUISSE4_W, ESQUISSE4_H)
        with Locations((-109, 8.843206027)):
            Rectangle(ESQUISSE4_W, ESQUISSE4_H)
    extrude(amount=-ENL_V_MAT_EXTRU_5_DEPTH, mode=Mode.SUBTRACT)

    # Esquisse5 → Enlèv. mat.-Extru.6 (cut, through all)
    with BuildSketch(Plane(origin=(0, 0, 0), x_dir=(-1, 0, 0), z_dir=(0, 0, -1))):
        with Locations((8.5, 8.583470877)):
            Circle(ESQUISSE5_R)
        with Locations(Location((-26.5, 8.583470877, 0), (0, 0, 180))):
            Circle(ESQUISSE5_R)
        with Locations((-126.5, 8.583470877)):
            Circle(ESQUISSE5_R)
        with Locations((-91.5, 8.583470877)):
            Circle(ESQUISSE5_R)
    extrude(amount=-ENL_V_MAT_EXTRU_6_DEPTH, mode=Mode.SUBTRACT)


solid = part.part
